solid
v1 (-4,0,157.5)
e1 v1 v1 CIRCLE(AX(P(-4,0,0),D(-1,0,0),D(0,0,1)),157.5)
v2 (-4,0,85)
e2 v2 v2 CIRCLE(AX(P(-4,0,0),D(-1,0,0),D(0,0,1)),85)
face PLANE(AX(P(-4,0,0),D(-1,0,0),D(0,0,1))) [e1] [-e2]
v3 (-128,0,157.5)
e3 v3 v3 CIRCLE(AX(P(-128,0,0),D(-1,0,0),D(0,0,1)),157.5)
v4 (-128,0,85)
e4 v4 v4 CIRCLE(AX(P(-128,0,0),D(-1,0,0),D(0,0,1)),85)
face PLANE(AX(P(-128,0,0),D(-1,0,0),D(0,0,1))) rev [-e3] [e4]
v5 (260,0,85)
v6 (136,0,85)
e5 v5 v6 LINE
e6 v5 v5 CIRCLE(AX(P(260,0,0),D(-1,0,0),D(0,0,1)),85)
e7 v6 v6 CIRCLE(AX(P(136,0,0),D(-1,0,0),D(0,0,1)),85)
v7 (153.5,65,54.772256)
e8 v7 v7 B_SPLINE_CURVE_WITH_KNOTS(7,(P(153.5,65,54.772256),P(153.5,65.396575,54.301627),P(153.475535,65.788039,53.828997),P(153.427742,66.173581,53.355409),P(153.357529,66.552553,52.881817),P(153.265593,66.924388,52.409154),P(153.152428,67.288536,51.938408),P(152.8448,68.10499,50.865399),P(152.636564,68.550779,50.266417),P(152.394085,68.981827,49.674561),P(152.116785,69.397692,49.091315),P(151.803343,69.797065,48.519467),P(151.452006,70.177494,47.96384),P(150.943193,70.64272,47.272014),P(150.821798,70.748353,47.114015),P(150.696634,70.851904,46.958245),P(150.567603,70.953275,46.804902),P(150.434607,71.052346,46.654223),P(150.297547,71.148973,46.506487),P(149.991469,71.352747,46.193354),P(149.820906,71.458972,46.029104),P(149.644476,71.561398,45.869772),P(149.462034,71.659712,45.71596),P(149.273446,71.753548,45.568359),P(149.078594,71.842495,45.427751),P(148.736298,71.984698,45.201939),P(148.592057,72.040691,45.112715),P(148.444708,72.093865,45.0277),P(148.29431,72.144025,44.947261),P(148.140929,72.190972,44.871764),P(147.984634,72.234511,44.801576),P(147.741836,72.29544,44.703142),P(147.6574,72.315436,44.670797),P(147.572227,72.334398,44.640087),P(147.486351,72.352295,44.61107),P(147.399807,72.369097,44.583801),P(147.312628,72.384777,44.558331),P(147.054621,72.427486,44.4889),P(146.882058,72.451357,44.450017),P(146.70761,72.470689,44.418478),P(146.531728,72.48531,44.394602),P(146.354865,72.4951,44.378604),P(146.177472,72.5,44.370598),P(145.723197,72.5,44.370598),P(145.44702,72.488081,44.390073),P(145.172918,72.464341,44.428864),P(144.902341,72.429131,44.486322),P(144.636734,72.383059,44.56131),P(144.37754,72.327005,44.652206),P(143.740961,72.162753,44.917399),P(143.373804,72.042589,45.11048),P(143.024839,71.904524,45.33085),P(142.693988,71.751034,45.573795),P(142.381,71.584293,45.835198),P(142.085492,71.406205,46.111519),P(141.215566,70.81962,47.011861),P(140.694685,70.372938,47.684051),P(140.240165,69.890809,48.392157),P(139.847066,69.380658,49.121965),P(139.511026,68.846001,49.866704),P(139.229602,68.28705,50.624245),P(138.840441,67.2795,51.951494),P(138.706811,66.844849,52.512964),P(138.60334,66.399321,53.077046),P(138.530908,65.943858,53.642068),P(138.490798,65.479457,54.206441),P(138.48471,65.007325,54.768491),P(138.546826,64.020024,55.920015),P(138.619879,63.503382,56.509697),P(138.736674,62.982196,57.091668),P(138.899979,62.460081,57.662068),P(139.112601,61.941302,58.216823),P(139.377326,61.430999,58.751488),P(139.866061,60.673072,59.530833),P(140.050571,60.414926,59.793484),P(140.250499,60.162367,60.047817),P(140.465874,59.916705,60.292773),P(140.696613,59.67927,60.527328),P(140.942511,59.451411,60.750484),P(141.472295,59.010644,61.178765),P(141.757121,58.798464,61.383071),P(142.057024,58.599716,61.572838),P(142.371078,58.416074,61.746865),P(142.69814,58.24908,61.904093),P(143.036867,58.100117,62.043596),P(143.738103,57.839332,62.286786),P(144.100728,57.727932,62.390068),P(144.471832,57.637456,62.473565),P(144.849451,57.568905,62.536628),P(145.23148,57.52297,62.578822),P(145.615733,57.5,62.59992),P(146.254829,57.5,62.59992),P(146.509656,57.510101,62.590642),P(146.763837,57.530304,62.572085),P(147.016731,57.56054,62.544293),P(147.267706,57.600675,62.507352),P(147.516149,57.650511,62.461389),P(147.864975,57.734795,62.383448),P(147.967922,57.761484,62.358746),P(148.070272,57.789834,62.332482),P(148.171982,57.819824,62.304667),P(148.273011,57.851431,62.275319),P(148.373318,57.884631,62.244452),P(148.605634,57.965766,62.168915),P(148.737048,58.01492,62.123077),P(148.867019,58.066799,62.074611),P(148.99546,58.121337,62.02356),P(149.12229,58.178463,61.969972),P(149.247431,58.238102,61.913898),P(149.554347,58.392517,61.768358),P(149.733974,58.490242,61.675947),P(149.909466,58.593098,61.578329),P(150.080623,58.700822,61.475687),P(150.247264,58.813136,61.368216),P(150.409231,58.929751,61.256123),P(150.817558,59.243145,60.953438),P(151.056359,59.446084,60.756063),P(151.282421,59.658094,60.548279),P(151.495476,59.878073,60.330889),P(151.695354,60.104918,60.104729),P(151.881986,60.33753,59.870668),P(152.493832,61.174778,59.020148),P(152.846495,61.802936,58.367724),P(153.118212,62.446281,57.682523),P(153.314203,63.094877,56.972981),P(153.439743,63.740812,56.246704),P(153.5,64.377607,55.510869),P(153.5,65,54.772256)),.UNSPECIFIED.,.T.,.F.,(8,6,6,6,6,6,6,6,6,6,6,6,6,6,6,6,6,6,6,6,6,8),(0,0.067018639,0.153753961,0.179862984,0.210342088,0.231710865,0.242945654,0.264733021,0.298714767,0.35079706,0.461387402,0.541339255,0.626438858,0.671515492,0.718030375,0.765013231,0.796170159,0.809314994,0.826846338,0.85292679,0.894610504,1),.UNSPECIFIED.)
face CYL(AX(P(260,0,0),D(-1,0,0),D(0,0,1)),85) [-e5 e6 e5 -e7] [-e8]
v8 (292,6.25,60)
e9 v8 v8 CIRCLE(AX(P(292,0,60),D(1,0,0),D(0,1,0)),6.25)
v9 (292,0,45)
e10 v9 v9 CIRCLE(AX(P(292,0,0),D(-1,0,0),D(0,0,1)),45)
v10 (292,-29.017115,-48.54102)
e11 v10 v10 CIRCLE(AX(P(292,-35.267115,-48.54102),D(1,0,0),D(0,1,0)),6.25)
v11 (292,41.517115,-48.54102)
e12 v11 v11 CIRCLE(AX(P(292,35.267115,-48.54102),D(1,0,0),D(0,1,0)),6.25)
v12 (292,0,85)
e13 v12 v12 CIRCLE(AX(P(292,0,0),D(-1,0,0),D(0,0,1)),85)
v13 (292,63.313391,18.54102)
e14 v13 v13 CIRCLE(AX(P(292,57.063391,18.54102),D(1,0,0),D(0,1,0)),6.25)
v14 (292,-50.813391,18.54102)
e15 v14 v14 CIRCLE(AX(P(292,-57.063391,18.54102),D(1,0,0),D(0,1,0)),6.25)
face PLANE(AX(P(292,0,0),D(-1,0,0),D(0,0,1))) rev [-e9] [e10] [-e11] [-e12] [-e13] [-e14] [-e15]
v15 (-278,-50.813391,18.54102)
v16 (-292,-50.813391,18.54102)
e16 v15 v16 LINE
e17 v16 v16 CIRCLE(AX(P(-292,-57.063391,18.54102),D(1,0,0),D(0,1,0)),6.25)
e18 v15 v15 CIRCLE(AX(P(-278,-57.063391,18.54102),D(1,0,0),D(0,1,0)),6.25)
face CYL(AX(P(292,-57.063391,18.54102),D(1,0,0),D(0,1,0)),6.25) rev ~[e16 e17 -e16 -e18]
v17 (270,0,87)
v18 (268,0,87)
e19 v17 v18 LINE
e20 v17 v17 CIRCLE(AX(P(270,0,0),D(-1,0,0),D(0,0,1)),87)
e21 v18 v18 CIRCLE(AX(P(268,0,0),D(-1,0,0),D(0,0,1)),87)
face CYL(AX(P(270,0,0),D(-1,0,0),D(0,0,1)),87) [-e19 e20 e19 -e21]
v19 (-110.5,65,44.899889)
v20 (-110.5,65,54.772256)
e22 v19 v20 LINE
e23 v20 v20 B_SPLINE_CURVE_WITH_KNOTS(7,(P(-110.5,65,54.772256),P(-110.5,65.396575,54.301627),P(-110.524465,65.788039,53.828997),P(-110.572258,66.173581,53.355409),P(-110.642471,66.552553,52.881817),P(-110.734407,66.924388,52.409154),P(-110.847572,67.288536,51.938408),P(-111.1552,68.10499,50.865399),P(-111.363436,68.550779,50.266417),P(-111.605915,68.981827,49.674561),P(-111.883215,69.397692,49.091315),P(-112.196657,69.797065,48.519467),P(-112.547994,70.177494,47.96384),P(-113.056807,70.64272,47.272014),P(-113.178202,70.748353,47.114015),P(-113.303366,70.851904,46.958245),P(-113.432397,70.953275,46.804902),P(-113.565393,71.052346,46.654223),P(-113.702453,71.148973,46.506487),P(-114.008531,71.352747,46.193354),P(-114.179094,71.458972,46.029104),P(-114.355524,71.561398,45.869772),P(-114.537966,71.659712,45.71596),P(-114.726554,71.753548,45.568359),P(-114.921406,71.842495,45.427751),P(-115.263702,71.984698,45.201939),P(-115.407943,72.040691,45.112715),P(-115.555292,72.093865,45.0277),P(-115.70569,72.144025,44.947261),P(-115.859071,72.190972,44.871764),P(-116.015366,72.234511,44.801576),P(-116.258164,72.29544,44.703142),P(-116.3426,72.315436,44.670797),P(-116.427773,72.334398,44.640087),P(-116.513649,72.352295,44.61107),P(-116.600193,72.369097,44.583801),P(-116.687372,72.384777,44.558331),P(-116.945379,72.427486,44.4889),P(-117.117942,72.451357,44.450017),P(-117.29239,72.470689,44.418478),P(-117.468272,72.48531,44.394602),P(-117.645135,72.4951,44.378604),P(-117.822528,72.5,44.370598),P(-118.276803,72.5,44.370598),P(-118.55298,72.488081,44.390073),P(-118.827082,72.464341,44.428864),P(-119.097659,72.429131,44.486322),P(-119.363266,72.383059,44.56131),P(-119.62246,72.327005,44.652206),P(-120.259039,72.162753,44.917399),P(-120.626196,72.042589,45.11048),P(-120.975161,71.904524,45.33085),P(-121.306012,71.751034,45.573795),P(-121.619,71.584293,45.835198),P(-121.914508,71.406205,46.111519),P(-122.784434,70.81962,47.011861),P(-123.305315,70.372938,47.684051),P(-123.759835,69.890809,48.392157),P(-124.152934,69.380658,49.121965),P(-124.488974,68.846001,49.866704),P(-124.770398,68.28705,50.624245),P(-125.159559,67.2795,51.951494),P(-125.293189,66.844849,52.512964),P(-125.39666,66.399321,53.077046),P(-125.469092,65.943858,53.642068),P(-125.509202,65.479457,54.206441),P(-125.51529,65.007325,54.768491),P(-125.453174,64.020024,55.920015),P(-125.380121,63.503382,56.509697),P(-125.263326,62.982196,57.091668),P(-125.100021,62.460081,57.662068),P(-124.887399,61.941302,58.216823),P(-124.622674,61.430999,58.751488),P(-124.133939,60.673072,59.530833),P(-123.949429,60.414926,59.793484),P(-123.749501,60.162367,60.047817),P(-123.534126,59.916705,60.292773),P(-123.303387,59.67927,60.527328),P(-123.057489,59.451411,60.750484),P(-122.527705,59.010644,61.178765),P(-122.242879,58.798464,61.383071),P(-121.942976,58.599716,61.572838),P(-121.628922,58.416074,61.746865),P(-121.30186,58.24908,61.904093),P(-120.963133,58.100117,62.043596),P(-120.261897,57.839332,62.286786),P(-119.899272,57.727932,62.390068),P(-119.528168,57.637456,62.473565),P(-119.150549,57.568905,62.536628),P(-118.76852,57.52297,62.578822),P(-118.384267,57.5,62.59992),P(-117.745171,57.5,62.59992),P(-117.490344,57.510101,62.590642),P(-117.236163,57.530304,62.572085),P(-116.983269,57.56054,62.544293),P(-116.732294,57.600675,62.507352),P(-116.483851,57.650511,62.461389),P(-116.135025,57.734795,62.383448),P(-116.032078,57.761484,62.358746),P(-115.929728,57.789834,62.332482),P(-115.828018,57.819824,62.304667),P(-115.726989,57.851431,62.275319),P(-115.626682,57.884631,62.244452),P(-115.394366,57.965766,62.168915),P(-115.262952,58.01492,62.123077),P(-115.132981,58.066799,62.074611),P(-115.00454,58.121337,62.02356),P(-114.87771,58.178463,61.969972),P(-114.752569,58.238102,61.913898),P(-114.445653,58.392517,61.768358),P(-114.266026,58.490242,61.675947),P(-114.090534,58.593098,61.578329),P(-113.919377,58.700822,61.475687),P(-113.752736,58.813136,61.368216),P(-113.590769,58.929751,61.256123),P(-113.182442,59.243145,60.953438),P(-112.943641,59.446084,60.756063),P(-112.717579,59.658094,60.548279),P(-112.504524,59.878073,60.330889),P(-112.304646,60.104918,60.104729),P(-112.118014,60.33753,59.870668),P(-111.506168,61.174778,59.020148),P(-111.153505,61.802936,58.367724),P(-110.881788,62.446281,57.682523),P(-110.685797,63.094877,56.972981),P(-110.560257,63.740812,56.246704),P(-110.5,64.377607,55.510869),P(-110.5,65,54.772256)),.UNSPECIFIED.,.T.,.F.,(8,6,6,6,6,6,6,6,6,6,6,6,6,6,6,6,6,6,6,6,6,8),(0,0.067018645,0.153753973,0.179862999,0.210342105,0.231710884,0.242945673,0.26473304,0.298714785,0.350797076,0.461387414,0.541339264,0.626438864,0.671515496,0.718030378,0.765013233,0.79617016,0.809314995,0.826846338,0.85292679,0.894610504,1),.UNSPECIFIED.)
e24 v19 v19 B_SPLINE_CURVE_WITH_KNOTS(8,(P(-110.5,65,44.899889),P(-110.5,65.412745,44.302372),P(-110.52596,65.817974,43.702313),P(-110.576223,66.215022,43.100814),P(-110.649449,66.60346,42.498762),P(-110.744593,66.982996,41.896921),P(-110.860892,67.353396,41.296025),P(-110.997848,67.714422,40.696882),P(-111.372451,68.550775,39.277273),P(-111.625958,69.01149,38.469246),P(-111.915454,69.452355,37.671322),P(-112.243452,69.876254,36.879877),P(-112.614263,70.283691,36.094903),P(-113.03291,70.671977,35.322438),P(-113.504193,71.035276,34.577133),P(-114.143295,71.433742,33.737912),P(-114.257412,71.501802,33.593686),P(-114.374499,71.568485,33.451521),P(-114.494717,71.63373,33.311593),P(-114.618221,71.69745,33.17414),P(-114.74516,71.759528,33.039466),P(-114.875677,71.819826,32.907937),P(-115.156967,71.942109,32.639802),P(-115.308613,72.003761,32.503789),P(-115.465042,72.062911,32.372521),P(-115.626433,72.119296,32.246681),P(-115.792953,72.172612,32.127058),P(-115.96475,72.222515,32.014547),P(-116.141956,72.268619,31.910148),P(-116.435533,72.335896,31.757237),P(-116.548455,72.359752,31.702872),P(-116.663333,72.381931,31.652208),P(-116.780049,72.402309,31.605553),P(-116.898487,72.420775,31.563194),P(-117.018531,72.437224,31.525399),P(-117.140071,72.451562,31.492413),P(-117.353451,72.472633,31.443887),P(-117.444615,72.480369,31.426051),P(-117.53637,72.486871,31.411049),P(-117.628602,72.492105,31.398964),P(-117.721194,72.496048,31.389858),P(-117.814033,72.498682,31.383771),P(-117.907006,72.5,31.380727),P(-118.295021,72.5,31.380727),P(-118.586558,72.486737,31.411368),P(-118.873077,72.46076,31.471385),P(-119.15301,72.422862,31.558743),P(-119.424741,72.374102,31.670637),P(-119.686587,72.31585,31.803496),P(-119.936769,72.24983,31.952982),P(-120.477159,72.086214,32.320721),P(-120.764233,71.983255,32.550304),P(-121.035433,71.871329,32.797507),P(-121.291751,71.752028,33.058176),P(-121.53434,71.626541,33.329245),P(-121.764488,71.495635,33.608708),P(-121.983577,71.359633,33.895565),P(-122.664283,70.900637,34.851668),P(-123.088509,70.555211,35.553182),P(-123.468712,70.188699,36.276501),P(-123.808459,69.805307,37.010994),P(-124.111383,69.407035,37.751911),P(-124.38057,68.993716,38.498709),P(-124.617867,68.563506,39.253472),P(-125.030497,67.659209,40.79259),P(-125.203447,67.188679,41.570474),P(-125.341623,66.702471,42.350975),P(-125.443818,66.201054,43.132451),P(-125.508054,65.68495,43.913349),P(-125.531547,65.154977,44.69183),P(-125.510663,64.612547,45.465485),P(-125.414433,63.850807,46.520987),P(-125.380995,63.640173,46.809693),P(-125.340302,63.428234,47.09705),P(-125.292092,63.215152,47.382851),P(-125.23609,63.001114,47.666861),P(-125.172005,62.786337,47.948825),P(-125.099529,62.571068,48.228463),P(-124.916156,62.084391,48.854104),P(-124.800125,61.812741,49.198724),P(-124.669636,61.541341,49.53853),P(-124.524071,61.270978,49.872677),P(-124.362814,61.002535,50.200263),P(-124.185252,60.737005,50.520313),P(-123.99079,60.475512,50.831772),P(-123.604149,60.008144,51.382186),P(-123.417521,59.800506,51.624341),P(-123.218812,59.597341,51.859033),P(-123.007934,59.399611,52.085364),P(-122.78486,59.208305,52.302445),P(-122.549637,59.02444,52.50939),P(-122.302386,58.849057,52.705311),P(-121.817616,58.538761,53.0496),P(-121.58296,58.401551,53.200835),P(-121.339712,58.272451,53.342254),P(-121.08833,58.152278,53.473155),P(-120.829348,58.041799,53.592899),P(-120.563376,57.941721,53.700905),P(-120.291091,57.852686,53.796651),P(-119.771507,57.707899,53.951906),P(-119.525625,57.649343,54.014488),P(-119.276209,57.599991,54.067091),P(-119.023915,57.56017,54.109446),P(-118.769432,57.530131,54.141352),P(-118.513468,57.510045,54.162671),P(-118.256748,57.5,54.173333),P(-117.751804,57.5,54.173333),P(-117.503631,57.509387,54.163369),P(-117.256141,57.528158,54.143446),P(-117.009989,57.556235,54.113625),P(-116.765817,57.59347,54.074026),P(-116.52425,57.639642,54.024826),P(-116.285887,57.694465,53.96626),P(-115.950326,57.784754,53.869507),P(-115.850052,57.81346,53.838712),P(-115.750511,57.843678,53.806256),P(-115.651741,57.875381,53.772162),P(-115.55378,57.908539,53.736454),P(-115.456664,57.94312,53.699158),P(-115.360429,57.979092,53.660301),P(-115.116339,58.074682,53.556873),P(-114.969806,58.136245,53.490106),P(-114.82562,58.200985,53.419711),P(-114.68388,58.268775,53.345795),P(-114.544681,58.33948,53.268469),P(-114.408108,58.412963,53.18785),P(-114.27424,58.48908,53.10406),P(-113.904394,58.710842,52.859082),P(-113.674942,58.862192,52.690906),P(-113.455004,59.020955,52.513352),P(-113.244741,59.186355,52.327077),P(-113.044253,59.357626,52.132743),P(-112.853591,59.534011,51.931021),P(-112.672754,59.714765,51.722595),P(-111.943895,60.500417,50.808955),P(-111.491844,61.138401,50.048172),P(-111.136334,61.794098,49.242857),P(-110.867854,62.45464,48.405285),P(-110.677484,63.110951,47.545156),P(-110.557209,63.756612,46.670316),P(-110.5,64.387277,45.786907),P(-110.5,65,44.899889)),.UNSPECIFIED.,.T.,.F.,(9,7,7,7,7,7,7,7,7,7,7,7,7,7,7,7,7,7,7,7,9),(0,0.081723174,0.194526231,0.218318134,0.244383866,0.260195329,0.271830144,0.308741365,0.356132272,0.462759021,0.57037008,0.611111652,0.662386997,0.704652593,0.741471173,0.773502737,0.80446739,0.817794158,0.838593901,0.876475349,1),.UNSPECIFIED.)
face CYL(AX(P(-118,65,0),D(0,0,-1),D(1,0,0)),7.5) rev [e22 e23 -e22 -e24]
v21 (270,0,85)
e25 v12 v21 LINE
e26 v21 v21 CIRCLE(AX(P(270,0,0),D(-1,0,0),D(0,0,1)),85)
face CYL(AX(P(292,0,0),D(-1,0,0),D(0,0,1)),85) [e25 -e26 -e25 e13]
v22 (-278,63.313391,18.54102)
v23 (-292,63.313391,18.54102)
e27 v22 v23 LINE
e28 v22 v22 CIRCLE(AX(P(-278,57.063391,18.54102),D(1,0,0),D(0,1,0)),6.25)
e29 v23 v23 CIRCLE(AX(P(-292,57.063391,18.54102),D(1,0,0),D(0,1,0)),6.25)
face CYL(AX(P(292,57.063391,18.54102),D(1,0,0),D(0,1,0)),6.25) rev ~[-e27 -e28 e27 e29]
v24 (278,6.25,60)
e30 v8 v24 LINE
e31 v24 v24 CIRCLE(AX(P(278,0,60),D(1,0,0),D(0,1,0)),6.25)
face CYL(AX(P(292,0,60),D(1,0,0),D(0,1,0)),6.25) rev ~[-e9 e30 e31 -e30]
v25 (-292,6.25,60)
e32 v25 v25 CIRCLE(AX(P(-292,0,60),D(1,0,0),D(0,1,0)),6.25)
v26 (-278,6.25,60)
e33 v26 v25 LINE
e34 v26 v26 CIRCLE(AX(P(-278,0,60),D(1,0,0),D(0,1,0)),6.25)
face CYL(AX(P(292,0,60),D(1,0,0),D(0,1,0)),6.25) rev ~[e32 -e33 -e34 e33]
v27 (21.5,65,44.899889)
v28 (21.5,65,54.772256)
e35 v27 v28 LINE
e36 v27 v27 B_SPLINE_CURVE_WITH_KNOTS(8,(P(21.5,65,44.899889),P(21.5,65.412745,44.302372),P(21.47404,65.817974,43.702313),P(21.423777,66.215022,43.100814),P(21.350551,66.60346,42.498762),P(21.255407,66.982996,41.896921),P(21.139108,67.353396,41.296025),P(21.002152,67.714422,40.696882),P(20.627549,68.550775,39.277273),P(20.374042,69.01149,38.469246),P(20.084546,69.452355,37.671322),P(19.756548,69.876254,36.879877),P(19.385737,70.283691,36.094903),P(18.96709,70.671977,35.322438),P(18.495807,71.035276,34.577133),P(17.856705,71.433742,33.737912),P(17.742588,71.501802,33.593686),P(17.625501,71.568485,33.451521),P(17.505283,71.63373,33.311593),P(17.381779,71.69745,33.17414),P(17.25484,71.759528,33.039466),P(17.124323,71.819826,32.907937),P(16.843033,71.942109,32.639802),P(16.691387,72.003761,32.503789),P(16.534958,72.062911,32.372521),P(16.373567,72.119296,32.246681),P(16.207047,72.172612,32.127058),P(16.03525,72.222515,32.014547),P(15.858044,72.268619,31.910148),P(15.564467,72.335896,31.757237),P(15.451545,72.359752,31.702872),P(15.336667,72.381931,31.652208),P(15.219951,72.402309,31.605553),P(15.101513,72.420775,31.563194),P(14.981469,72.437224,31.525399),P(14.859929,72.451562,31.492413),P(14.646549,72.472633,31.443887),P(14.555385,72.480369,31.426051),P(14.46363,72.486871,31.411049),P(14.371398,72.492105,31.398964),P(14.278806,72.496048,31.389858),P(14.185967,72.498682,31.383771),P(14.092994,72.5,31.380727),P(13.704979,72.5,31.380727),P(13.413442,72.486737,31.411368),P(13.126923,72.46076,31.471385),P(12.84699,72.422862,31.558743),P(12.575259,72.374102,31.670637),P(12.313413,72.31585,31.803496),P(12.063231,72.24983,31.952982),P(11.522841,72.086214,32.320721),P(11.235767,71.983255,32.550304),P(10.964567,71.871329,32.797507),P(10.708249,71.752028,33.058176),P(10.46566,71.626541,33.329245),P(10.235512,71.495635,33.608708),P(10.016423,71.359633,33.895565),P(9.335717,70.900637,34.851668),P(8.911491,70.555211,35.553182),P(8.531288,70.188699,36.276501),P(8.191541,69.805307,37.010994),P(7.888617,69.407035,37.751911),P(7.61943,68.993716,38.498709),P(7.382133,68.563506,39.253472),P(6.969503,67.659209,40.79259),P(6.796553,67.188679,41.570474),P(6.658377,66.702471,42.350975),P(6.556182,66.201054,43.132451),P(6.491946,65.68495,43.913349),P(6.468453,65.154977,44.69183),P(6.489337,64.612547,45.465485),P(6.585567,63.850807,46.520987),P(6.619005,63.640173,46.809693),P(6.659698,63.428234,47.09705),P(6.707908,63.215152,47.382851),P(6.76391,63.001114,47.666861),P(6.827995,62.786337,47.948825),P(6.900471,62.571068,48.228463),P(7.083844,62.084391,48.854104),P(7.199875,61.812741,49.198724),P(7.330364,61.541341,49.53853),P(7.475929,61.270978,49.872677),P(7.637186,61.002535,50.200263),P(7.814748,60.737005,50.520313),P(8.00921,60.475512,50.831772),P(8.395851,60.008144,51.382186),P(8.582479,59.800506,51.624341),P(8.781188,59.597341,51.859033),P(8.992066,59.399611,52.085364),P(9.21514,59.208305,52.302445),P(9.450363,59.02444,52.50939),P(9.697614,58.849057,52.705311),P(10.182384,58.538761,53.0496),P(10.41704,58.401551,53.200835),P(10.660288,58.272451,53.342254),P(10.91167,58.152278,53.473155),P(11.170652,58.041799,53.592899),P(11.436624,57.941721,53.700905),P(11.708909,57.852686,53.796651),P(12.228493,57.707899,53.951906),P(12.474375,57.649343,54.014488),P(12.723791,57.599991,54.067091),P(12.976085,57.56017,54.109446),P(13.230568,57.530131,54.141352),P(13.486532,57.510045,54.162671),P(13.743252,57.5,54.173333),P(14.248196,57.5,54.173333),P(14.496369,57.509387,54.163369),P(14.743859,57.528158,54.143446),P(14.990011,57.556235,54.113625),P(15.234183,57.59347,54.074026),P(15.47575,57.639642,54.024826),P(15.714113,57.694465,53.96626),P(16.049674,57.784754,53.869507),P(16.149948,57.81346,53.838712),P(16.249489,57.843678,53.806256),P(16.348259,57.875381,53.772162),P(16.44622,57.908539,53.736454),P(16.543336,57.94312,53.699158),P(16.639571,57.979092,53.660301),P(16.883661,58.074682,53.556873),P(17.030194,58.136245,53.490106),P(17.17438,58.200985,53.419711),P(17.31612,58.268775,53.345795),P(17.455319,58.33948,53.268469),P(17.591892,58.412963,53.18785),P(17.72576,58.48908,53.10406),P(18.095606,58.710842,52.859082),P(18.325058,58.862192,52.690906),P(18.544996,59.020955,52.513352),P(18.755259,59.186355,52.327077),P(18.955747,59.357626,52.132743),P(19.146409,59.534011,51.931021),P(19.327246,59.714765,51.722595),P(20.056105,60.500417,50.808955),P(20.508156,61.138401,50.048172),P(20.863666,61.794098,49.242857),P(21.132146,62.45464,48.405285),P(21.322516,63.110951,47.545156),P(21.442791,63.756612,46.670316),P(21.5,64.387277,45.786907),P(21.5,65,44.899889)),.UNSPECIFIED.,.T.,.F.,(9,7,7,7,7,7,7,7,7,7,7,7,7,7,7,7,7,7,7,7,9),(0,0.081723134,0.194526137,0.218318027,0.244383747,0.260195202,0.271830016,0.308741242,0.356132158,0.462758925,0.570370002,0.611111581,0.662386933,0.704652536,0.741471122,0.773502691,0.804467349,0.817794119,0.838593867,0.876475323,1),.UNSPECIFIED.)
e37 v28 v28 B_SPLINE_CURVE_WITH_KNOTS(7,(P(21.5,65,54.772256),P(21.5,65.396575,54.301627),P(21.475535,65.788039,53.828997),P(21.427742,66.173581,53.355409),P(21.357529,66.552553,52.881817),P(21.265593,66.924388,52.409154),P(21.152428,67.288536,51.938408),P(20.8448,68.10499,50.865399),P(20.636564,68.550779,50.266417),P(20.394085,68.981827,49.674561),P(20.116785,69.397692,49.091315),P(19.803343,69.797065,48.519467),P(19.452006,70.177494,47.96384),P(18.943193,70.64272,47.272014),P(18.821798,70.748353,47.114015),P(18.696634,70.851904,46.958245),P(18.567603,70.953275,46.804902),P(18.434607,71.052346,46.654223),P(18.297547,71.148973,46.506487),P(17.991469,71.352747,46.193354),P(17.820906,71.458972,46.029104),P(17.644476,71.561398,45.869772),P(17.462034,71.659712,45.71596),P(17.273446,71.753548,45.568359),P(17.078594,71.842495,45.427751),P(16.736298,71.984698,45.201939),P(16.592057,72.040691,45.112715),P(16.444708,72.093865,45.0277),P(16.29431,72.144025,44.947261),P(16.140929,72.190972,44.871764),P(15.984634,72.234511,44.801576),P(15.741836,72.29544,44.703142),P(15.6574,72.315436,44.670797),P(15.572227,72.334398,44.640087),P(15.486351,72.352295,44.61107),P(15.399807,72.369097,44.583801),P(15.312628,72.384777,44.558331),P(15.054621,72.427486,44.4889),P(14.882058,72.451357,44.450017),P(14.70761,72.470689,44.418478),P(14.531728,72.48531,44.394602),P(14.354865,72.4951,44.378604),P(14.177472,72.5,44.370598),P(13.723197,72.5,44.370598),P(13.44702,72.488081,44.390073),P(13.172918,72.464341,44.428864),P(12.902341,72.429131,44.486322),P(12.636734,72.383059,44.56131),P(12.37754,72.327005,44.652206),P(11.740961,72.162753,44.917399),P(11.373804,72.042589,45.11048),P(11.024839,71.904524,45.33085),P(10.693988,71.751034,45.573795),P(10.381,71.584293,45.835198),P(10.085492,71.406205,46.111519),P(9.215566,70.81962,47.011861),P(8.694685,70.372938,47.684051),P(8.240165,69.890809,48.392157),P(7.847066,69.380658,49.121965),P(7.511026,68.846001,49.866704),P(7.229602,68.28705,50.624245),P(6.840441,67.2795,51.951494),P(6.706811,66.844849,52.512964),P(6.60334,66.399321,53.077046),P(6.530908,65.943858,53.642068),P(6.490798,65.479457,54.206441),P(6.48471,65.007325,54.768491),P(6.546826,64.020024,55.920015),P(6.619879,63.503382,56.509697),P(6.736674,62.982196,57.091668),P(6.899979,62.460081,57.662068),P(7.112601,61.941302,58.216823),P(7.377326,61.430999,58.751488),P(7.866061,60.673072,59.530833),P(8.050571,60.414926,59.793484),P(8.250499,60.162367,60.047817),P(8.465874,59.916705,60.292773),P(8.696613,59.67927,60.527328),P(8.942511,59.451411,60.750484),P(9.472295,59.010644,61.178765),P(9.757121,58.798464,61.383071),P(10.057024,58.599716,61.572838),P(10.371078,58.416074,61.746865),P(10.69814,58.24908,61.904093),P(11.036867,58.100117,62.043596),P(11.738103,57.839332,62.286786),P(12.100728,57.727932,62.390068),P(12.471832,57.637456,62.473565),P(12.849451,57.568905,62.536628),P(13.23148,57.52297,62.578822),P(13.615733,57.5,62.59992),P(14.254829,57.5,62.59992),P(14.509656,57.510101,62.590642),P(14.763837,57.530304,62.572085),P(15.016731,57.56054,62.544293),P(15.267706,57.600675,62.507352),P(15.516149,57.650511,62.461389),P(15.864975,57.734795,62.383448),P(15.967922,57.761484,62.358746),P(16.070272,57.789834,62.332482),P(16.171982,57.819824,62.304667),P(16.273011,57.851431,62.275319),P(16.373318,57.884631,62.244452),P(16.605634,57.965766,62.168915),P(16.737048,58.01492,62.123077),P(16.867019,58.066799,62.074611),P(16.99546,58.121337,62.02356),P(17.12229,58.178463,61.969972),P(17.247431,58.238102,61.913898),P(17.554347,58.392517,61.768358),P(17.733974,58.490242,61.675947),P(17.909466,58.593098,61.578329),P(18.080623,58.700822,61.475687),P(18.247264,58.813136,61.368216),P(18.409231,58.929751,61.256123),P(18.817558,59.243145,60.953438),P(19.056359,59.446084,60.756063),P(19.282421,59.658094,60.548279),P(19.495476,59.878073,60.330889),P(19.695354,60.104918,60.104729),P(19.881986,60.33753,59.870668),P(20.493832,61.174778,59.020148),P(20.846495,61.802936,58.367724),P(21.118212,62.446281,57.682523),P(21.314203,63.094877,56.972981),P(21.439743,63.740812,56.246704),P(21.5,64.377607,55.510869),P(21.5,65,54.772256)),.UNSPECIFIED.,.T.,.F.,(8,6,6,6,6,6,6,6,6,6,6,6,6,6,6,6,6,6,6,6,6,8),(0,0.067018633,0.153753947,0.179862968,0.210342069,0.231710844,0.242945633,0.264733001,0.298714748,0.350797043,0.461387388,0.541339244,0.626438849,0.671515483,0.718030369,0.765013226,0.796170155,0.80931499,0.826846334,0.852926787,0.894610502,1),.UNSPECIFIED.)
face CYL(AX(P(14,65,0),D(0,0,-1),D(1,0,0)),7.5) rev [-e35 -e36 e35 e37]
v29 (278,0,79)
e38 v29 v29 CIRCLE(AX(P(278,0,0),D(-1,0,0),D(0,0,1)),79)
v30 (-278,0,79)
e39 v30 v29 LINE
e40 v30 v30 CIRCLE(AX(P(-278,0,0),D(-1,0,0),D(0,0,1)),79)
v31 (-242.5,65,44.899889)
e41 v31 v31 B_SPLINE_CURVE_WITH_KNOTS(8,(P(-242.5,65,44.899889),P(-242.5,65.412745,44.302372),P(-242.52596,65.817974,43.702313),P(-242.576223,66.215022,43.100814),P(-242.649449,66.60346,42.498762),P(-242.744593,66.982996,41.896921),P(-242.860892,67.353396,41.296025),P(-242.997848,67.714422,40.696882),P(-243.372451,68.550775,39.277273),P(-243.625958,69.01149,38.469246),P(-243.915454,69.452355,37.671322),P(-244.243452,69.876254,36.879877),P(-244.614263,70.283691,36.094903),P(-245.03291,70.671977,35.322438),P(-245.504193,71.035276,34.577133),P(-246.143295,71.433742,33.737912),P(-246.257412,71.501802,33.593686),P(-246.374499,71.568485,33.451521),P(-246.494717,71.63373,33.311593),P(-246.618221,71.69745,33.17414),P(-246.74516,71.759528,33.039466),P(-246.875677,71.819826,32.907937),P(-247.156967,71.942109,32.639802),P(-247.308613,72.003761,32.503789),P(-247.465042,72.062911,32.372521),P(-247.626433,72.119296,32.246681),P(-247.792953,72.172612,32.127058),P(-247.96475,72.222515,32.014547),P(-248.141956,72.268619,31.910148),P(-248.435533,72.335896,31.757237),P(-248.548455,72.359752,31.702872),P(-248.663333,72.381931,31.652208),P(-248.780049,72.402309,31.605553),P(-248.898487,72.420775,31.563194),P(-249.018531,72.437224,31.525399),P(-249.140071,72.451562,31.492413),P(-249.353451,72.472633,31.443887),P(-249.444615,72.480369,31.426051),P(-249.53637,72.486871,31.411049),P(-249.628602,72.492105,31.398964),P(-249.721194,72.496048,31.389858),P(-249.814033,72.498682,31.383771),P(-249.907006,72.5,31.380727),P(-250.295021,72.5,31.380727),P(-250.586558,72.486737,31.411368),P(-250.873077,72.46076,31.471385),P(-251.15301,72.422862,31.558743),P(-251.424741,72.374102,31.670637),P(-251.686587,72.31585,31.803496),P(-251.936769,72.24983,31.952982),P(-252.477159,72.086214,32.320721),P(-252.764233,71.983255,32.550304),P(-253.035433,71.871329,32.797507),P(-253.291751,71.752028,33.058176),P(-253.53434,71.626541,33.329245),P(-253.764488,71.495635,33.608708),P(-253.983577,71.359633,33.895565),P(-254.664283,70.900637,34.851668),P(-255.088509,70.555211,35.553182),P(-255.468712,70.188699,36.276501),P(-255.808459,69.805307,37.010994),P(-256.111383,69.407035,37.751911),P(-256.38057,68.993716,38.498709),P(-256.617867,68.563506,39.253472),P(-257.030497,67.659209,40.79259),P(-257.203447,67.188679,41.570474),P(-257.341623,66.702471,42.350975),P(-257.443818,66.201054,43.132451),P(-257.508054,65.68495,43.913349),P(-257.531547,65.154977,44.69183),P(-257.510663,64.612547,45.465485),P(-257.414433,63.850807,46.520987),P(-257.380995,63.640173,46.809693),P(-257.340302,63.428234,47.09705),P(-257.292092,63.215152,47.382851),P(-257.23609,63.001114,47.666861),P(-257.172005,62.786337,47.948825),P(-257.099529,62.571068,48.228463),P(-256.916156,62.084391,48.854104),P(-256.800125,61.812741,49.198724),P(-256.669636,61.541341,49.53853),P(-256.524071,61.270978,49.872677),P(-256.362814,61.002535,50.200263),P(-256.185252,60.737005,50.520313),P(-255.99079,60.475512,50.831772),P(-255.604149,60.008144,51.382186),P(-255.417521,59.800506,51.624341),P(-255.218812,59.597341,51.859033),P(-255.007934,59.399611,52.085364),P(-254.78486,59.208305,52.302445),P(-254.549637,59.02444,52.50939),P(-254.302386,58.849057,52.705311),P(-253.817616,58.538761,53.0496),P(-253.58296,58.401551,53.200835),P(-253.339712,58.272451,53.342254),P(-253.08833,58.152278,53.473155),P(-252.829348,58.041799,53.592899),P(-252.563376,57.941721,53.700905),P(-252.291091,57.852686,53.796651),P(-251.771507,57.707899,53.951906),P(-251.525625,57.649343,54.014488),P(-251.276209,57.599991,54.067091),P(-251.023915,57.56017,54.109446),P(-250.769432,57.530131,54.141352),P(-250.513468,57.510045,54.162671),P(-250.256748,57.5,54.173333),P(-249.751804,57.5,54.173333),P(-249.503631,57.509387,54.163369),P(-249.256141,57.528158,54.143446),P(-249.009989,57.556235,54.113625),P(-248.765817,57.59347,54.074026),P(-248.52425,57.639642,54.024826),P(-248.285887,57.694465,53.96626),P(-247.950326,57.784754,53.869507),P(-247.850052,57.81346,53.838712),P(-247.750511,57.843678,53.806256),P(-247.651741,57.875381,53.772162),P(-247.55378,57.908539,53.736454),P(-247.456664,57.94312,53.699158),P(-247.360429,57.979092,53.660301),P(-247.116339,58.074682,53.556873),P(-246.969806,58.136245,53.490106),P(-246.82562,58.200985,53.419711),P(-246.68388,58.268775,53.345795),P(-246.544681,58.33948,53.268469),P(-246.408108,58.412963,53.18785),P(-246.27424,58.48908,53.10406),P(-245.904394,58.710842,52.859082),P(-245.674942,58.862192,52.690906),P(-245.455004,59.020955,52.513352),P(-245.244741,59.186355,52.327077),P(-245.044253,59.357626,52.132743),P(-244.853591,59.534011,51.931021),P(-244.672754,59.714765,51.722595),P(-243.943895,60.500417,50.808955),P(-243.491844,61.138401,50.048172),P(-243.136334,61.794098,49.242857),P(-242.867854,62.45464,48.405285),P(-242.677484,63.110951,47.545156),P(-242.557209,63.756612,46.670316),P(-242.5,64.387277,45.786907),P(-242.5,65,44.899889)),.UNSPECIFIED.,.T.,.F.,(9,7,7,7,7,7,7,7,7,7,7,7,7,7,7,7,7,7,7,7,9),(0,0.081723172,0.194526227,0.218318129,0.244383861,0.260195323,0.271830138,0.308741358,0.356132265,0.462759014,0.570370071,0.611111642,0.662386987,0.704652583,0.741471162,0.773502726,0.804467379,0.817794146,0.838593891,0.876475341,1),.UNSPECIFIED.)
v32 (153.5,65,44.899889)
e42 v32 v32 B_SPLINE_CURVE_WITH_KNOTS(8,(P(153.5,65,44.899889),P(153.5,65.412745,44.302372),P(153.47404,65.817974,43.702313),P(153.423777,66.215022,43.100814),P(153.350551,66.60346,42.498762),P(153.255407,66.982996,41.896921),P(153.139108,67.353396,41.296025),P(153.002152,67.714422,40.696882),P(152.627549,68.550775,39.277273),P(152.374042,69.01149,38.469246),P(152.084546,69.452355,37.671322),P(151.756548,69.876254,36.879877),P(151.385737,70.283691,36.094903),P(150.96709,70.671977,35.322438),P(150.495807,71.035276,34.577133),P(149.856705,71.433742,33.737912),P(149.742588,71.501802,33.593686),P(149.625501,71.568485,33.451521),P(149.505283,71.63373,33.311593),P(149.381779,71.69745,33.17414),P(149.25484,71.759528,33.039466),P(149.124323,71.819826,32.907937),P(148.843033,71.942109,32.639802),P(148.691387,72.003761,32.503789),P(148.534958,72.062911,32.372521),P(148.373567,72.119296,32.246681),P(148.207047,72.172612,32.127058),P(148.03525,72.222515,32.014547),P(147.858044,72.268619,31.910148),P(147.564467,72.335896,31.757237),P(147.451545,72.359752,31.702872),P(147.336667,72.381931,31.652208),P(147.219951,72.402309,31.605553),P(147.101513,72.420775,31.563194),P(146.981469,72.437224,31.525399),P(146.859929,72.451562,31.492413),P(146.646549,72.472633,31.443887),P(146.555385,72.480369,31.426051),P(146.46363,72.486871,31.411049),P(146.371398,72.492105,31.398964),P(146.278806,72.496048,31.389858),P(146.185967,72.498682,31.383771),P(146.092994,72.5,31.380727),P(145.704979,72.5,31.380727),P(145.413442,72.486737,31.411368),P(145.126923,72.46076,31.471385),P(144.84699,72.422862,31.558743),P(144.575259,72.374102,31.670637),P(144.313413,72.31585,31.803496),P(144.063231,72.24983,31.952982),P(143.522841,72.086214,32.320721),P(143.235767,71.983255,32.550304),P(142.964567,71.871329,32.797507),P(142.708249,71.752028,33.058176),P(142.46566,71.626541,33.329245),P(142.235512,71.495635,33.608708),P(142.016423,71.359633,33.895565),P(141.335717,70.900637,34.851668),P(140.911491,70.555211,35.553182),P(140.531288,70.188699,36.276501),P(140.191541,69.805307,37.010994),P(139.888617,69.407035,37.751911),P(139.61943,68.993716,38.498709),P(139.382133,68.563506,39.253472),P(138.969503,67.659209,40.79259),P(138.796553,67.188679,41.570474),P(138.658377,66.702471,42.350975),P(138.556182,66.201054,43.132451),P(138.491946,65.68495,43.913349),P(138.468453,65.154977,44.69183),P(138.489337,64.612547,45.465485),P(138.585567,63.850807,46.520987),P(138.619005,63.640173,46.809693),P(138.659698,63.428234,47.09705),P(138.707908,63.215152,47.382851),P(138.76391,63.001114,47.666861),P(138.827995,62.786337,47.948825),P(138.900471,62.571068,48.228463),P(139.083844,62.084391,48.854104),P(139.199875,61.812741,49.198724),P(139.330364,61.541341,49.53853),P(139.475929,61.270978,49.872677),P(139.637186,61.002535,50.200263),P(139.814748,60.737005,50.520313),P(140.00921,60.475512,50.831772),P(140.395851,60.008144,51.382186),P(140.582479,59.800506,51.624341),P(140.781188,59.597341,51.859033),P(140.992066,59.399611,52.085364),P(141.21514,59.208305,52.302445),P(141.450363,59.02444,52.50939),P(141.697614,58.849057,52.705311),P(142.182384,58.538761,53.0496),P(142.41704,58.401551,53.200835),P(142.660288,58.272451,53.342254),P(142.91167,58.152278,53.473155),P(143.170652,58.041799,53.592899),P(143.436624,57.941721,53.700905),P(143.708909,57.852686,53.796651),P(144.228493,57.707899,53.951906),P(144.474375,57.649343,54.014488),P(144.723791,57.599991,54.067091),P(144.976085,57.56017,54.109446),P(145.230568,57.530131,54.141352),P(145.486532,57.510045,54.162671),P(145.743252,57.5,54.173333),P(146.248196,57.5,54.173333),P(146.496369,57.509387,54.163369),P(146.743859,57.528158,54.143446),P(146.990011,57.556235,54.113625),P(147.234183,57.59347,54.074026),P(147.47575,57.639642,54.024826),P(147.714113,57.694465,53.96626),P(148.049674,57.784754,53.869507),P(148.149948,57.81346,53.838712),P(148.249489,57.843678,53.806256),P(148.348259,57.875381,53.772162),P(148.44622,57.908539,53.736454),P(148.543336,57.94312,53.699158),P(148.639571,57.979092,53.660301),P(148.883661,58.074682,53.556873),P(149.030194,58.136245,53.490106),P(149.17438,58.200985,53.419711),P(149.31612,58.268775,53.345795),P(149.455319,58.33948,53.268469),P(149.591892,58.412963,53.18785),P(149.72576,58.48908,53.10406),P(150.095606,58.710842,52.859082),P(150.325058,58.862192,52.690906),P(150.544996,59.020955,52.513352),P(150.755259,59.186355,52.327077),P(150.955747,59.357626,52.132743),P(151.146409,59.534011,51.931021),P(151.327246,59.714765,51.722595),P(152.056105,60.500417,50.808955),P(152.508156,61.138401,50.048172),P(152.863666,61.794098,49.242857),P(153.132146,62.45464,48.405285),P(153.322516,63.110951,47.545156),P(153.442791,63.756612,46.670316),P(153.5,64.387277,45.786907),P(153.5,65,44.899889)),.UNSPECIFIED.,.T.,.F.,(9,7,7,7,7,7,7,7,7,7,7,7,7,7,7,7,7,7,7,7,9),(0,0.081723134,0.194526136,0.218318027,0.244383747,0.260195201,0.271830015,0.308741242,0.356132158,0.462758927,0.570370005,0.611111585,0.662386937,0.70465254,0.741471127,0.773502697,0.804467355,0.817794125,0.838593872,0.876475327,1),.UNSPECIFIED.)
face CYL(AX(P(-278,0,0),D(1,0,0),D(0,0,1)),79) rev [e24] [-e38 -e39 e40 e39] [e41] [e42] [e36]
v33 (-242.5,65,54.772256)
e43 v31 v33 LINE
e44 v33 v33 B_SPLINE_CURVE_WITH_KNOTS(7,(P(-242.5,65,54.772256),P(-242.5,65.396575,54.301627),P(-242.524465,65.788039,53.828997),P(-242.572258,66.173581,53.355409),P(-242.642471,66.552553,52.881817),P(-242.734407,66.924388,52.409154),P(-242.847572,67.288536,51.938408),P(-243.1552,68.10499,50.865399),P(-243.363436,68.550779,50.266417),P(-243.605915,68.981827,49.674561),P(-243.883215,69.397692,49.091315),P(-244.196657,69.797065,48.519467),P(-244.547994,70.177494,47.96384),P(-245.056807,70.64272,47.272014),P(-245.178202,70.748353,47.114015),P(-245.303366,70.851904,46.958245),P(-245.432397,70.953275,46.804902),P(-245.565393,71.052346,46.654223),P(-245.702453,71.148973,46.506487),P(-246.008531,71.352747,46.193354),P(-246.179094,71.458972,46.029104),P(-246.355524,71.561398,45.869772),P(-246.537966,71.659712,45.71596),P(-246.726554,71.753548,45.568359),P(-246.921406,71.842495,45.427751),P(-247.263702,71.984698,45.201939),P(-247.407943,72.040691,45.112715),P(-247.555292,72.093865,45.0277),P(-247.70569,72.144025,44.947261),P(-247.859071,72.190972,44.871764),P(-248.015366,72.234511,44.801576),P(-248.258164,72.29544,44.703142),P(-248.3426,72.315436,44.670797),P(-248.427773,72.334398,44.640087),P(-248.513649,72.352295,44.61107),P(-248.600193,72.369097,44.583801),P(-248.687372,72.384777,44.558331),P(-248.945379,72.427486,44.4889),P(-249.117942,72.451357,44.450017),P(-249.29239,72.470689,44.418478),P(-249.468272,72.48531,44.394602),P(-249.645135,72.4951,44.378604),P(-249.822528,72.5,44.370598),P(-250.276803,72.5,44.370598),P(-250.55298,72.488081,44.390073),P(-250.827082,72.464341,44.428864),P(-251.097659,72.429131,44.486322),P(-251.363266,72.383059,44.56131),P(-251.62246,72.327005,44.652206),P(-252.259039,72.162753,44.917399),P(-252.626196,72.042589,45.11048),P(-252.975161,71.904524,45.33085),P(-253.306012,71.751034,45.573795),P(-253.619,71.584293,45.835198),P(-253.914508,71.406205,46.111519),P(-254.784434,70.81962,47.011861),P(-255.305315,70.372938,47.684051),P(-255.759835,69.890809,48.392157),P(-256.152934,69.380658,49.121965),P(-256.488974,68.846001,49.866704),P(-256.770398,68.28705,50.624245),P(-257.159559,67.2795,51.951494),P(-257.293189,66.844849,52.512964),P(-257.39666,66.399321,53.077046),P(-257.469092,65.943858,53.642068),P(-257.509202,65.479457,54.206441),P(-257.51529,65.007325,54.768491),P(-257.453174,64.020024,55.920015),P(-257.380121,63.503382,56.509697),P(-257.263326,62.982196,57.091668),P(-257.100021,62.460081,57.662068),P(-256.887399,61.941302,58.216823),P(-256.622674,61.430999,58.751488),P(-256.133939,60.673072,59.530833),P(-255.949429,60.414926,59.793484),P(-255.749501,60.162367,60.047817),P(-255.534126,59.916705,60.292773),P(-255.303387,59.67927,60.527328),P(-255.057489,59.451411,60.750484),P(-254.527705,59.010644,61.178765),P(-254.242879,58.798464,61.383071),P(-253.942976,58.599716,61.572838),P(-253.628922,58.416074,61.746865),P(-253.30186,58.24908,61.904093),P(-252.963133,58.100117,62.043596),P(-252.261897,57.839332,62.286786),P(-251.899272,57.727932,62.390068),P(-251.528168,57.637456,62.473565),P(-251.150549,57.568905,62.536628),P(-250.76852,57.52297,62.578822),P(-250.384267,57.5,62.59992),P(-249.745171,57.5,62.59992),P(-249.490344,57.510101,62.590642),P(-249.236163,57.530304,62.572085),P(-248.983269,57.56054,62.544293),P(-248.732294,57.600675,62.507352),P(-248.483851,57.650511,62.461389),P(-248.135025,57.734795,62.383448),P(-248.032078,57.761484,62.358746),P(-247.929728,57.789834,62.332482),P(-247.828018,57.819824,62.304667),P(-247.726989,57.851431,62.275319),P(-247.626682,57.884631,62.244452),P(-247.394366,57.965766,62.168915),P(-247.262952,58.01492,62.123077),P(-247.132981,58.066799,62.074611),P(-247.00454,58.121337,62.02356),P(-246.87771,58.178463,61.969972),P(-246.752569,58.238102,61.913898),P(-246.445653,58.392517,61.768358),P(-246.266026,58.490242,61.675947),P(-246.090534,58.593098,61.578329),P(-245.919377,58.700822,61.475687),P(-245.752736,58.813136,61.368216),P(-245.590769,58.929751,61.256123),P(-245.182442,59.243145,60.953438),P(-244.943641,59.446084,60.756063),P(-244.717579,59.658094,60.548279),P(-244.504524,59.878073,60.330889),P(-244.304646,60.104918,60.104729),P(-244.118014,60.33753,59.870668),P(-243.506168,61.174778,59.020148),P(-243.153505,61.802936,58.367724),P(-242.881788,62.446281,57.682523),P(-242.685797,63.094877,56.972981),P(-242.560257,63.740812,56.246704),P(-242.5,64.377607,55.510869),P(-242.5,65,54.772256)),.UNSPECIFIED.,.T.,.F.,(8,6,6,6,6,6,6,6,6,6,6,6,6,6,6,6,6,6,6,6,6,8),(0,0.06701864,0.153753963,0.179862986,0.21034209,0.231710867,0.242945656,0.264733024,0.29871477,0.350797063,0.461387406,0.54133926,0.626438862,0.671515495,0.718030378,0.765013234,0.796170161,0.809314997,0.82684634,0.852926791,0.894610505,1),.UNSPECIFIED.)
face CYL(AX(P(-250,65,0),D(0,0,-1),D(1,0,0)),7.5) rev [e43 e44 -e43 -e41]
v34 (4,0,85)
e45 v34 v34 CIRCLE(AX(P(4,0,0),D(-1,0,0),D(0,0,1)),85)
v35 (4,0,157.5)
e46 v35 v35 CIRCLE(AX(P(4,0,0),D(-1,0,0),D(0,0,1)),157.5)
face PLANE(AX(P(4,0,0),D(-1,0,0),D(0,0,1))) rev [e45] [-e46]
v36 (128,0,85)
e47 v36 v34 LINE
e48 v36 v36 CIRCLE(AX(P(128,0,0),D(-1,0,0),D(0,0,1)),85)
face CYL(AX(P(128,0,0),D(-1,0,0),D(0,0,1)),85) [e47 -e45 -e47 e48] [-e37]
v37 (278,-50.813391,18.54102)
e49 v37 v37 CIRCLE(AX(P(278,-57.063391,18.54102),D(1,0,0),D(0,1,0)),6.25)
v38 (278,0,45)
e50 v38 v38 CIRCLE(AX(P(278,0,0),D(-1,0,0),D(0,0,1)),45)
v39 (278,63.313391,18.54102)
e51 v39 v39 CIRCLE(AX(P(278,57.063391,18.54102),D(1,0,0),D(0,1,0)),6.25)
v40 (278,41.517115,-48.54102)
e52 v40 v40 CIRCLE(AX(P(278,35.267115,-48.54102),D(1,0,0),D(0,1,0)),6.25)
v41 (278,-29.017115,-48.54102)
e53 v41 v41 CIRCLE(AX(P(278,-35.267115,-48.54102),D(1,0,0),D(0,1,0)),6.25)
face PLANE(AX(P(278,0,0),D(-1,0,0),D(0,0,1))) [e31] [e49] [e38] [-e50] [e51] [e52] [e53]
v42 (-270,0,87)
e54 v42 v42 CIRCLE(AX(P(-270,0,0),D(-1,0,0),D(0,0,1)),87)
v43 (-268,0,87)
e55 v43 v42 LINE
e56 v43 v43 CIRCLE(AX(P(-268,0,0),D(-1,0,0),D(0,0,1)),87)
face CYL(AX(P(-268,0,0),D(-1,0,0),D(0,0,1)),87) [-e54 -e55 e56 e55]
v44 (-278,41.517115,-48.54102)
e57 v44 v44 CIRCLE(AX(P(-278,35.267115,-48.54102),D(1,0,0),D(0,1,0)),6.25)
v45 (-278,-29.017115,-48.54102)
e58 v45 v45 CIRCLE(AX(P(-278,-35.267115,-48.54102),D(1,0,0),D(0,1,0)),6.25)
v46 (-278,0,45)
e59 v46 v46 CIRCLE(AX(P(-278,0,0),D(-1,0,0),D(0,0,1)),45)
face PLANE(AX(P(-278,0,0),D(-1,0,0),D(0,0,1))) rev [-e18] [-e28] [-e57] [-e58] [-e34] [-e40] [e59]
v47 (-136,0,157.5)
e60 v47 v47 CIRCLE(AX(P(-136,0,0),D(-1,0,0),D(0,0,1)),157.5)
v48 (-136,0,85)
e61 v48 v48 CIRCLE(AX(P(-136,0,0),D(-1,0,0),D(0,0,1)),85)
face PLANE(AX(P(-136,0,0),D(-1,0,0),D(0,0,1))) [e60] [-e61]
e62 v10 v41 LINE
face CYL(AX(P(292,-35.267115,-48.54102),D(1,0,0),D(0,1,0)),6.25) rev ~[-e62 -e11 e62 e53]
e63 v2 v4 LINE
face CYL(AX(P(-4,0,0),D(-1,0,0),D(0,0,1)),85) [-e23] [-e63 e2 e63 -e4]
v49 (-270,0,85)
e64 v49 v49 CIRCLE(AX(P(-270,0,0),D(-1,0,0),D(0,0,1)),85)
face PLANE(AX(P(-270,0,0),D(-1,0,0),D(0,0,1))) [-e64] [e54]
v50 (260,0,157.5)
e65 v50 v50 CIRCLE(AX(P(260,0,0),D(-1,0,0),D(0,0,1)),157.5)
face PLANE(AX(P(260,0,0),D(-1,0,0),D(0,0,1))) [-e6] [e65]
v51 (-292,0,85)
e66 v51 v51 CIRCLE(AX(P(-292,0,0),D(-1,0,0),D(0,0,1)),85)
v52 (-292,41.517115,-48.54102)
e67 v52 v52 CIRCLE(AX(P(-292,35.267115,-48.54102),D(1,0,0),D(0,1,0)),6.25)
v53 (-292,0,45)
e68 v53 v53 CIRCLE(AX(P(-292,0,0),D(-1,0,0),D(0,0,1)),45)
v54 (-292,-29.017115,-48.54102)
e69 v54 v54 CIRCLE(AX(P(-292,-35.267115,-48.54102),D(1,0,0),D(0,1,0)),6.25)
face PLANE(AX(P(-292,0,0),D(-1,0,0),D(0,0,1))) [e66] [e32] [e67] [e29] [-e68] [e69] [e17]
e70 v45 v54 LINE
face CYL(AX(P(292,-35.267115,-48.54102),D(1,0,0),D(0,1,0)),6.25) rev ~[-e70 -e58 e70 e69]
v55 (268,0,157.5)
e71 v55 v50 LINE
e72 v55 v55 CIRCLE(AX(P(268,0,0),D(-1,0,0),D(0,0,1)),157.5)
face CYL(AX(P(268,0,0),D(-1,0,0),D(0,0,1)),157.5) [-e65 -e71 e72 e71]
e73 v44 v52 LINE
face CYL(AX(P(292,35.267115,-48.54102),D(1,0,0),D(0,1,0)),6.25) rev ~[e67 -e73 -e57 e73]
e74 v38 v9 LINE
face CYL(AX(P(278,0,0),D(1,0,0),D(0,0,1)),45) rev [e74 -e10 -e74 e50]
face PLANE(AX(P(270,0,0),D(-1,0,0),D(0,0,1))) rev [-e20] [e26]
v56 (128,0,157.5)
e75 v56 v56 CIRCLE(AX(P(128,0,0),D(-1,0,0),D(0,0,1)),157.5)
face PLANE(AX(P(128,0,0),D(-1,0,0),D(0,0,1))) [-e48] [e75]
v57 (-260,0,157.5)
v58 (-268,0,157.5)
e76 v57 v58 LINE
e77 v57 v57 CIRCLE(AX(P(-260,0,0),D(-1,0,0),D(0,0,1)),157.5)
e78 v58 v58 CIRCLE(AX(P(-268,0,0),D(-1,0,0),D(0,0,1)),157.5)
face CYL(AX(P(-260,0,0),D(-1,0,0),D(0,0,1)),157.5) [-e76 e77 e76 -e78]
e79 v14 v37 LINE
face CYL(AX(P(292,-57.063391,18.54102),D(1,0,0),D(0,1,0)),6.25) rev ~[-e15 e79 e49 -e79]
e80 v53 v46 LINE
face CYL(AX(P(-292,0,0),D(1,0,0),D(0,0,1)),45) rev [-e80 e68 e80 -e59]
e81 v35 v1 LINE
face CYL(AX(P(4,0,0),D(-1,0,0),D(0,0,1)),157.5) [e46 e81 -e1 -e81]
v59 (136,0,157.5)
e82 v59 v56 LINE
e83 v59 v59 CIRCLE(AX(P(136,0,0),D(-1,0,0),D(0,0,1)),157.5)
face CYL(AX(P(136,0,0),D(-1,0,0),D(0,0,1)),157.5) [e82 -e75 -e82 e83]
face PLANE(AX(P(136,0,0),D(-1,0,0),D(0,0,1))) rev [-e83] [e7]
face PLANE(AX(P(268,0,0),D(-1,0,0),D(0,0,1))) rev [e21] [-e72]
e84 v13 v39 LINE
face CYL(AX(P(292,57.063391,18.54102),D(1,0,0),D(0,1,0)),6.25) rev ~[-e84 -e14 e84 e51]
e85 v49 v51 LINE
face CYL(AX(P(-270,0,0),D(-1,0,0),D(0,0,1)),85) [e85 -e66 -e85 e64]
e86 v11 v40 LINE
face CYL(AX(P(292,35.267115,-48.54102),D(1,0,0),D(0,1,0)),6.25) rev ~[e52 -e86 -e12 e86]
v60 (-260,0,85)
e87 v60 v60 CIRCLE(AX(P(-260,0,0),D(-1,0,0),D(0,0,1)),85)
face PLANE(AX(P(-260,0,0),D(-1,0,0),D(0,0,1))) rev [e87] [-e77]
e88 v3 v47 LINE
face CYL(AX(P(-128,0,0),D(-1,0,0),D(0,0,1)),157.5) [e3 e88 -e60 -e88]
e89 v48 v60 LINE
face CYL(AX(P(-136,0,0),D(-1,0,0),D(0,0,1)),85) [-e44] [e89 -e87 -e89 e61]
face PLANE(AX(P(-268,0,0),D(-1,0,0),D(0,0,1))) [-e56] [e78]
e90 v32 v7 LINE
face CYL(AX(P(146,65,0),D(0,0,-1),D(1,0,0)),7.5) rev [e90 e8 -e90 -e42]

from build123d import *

# Parameters (mm, degrees)
F2_R     = 6.25
F3_DEPTH = 584.001
F4_R     = 7.5
F5_DEPTH = 116


with BuildPart() as f1:
    # F0 (on Front) → F1 (revolve)
    with BuildSketch(Plane.XZ):
        Polygon((4, 157.5), (0, 157.5), (-4, 157.5), (-4, 85), (-128, 85), (-128, 157.5), (-136, 157.5), (-136, 85), (-260, 85), (-260, 157.5), (-268, 157.5), (-268, 87), (-270, 87), (-270, 85), (-292, 85), (-292, 45), (-278, 45), (-278, 79), (0, 79), (278, 79), (278, 45), (292, 45), (292, 85), (270, 85), (270, 87), (268, 87), (268, 157.5), (260, 157.5), (260, 85), (136, 85), (136, 157.5), (128, 157.5), (128, 85), (4, 85), align=None)
    revolve(axis=Axis((-161.670029, 0, 0), (-1, 0, 0)))

    # F2 (on face) → F3 (cut, through all)
    with BuildSketch(Plane.YZ.offset(292)):
        with Locations((0, 60)):
            Circle(F2_R)
        with Locations((-57.063391, 18.54102)):
            Circle(F2_R)
        with Locations((-35.267115, -48.54102)):
            Circle(F2_R)
        with Locations((35.267115, -48.54102)):
            Circle(F2_R)
        with Locations((57.063391, 18.54102)):
            Circle(F2_R)
    extrude(amount=-F3_DEPTH, mode=Mode.SUBTRACT)

    # F4 (on Top) → F5 (cut)
    with BuildSketch(Plane.XY):
        with Locations((-250, 65)):
            Circle(F4_R)
        with Locations((-118, 65)):
            Circle(F4_R)
        with Locations((14, 65)):
            Circle(F4_R)
        with Locations((146, 65)):
            Circle(F4_R)
    extrude(amount=F5_DEPTH, mode=Mode.SUBTRACT)


solid = f1.part
